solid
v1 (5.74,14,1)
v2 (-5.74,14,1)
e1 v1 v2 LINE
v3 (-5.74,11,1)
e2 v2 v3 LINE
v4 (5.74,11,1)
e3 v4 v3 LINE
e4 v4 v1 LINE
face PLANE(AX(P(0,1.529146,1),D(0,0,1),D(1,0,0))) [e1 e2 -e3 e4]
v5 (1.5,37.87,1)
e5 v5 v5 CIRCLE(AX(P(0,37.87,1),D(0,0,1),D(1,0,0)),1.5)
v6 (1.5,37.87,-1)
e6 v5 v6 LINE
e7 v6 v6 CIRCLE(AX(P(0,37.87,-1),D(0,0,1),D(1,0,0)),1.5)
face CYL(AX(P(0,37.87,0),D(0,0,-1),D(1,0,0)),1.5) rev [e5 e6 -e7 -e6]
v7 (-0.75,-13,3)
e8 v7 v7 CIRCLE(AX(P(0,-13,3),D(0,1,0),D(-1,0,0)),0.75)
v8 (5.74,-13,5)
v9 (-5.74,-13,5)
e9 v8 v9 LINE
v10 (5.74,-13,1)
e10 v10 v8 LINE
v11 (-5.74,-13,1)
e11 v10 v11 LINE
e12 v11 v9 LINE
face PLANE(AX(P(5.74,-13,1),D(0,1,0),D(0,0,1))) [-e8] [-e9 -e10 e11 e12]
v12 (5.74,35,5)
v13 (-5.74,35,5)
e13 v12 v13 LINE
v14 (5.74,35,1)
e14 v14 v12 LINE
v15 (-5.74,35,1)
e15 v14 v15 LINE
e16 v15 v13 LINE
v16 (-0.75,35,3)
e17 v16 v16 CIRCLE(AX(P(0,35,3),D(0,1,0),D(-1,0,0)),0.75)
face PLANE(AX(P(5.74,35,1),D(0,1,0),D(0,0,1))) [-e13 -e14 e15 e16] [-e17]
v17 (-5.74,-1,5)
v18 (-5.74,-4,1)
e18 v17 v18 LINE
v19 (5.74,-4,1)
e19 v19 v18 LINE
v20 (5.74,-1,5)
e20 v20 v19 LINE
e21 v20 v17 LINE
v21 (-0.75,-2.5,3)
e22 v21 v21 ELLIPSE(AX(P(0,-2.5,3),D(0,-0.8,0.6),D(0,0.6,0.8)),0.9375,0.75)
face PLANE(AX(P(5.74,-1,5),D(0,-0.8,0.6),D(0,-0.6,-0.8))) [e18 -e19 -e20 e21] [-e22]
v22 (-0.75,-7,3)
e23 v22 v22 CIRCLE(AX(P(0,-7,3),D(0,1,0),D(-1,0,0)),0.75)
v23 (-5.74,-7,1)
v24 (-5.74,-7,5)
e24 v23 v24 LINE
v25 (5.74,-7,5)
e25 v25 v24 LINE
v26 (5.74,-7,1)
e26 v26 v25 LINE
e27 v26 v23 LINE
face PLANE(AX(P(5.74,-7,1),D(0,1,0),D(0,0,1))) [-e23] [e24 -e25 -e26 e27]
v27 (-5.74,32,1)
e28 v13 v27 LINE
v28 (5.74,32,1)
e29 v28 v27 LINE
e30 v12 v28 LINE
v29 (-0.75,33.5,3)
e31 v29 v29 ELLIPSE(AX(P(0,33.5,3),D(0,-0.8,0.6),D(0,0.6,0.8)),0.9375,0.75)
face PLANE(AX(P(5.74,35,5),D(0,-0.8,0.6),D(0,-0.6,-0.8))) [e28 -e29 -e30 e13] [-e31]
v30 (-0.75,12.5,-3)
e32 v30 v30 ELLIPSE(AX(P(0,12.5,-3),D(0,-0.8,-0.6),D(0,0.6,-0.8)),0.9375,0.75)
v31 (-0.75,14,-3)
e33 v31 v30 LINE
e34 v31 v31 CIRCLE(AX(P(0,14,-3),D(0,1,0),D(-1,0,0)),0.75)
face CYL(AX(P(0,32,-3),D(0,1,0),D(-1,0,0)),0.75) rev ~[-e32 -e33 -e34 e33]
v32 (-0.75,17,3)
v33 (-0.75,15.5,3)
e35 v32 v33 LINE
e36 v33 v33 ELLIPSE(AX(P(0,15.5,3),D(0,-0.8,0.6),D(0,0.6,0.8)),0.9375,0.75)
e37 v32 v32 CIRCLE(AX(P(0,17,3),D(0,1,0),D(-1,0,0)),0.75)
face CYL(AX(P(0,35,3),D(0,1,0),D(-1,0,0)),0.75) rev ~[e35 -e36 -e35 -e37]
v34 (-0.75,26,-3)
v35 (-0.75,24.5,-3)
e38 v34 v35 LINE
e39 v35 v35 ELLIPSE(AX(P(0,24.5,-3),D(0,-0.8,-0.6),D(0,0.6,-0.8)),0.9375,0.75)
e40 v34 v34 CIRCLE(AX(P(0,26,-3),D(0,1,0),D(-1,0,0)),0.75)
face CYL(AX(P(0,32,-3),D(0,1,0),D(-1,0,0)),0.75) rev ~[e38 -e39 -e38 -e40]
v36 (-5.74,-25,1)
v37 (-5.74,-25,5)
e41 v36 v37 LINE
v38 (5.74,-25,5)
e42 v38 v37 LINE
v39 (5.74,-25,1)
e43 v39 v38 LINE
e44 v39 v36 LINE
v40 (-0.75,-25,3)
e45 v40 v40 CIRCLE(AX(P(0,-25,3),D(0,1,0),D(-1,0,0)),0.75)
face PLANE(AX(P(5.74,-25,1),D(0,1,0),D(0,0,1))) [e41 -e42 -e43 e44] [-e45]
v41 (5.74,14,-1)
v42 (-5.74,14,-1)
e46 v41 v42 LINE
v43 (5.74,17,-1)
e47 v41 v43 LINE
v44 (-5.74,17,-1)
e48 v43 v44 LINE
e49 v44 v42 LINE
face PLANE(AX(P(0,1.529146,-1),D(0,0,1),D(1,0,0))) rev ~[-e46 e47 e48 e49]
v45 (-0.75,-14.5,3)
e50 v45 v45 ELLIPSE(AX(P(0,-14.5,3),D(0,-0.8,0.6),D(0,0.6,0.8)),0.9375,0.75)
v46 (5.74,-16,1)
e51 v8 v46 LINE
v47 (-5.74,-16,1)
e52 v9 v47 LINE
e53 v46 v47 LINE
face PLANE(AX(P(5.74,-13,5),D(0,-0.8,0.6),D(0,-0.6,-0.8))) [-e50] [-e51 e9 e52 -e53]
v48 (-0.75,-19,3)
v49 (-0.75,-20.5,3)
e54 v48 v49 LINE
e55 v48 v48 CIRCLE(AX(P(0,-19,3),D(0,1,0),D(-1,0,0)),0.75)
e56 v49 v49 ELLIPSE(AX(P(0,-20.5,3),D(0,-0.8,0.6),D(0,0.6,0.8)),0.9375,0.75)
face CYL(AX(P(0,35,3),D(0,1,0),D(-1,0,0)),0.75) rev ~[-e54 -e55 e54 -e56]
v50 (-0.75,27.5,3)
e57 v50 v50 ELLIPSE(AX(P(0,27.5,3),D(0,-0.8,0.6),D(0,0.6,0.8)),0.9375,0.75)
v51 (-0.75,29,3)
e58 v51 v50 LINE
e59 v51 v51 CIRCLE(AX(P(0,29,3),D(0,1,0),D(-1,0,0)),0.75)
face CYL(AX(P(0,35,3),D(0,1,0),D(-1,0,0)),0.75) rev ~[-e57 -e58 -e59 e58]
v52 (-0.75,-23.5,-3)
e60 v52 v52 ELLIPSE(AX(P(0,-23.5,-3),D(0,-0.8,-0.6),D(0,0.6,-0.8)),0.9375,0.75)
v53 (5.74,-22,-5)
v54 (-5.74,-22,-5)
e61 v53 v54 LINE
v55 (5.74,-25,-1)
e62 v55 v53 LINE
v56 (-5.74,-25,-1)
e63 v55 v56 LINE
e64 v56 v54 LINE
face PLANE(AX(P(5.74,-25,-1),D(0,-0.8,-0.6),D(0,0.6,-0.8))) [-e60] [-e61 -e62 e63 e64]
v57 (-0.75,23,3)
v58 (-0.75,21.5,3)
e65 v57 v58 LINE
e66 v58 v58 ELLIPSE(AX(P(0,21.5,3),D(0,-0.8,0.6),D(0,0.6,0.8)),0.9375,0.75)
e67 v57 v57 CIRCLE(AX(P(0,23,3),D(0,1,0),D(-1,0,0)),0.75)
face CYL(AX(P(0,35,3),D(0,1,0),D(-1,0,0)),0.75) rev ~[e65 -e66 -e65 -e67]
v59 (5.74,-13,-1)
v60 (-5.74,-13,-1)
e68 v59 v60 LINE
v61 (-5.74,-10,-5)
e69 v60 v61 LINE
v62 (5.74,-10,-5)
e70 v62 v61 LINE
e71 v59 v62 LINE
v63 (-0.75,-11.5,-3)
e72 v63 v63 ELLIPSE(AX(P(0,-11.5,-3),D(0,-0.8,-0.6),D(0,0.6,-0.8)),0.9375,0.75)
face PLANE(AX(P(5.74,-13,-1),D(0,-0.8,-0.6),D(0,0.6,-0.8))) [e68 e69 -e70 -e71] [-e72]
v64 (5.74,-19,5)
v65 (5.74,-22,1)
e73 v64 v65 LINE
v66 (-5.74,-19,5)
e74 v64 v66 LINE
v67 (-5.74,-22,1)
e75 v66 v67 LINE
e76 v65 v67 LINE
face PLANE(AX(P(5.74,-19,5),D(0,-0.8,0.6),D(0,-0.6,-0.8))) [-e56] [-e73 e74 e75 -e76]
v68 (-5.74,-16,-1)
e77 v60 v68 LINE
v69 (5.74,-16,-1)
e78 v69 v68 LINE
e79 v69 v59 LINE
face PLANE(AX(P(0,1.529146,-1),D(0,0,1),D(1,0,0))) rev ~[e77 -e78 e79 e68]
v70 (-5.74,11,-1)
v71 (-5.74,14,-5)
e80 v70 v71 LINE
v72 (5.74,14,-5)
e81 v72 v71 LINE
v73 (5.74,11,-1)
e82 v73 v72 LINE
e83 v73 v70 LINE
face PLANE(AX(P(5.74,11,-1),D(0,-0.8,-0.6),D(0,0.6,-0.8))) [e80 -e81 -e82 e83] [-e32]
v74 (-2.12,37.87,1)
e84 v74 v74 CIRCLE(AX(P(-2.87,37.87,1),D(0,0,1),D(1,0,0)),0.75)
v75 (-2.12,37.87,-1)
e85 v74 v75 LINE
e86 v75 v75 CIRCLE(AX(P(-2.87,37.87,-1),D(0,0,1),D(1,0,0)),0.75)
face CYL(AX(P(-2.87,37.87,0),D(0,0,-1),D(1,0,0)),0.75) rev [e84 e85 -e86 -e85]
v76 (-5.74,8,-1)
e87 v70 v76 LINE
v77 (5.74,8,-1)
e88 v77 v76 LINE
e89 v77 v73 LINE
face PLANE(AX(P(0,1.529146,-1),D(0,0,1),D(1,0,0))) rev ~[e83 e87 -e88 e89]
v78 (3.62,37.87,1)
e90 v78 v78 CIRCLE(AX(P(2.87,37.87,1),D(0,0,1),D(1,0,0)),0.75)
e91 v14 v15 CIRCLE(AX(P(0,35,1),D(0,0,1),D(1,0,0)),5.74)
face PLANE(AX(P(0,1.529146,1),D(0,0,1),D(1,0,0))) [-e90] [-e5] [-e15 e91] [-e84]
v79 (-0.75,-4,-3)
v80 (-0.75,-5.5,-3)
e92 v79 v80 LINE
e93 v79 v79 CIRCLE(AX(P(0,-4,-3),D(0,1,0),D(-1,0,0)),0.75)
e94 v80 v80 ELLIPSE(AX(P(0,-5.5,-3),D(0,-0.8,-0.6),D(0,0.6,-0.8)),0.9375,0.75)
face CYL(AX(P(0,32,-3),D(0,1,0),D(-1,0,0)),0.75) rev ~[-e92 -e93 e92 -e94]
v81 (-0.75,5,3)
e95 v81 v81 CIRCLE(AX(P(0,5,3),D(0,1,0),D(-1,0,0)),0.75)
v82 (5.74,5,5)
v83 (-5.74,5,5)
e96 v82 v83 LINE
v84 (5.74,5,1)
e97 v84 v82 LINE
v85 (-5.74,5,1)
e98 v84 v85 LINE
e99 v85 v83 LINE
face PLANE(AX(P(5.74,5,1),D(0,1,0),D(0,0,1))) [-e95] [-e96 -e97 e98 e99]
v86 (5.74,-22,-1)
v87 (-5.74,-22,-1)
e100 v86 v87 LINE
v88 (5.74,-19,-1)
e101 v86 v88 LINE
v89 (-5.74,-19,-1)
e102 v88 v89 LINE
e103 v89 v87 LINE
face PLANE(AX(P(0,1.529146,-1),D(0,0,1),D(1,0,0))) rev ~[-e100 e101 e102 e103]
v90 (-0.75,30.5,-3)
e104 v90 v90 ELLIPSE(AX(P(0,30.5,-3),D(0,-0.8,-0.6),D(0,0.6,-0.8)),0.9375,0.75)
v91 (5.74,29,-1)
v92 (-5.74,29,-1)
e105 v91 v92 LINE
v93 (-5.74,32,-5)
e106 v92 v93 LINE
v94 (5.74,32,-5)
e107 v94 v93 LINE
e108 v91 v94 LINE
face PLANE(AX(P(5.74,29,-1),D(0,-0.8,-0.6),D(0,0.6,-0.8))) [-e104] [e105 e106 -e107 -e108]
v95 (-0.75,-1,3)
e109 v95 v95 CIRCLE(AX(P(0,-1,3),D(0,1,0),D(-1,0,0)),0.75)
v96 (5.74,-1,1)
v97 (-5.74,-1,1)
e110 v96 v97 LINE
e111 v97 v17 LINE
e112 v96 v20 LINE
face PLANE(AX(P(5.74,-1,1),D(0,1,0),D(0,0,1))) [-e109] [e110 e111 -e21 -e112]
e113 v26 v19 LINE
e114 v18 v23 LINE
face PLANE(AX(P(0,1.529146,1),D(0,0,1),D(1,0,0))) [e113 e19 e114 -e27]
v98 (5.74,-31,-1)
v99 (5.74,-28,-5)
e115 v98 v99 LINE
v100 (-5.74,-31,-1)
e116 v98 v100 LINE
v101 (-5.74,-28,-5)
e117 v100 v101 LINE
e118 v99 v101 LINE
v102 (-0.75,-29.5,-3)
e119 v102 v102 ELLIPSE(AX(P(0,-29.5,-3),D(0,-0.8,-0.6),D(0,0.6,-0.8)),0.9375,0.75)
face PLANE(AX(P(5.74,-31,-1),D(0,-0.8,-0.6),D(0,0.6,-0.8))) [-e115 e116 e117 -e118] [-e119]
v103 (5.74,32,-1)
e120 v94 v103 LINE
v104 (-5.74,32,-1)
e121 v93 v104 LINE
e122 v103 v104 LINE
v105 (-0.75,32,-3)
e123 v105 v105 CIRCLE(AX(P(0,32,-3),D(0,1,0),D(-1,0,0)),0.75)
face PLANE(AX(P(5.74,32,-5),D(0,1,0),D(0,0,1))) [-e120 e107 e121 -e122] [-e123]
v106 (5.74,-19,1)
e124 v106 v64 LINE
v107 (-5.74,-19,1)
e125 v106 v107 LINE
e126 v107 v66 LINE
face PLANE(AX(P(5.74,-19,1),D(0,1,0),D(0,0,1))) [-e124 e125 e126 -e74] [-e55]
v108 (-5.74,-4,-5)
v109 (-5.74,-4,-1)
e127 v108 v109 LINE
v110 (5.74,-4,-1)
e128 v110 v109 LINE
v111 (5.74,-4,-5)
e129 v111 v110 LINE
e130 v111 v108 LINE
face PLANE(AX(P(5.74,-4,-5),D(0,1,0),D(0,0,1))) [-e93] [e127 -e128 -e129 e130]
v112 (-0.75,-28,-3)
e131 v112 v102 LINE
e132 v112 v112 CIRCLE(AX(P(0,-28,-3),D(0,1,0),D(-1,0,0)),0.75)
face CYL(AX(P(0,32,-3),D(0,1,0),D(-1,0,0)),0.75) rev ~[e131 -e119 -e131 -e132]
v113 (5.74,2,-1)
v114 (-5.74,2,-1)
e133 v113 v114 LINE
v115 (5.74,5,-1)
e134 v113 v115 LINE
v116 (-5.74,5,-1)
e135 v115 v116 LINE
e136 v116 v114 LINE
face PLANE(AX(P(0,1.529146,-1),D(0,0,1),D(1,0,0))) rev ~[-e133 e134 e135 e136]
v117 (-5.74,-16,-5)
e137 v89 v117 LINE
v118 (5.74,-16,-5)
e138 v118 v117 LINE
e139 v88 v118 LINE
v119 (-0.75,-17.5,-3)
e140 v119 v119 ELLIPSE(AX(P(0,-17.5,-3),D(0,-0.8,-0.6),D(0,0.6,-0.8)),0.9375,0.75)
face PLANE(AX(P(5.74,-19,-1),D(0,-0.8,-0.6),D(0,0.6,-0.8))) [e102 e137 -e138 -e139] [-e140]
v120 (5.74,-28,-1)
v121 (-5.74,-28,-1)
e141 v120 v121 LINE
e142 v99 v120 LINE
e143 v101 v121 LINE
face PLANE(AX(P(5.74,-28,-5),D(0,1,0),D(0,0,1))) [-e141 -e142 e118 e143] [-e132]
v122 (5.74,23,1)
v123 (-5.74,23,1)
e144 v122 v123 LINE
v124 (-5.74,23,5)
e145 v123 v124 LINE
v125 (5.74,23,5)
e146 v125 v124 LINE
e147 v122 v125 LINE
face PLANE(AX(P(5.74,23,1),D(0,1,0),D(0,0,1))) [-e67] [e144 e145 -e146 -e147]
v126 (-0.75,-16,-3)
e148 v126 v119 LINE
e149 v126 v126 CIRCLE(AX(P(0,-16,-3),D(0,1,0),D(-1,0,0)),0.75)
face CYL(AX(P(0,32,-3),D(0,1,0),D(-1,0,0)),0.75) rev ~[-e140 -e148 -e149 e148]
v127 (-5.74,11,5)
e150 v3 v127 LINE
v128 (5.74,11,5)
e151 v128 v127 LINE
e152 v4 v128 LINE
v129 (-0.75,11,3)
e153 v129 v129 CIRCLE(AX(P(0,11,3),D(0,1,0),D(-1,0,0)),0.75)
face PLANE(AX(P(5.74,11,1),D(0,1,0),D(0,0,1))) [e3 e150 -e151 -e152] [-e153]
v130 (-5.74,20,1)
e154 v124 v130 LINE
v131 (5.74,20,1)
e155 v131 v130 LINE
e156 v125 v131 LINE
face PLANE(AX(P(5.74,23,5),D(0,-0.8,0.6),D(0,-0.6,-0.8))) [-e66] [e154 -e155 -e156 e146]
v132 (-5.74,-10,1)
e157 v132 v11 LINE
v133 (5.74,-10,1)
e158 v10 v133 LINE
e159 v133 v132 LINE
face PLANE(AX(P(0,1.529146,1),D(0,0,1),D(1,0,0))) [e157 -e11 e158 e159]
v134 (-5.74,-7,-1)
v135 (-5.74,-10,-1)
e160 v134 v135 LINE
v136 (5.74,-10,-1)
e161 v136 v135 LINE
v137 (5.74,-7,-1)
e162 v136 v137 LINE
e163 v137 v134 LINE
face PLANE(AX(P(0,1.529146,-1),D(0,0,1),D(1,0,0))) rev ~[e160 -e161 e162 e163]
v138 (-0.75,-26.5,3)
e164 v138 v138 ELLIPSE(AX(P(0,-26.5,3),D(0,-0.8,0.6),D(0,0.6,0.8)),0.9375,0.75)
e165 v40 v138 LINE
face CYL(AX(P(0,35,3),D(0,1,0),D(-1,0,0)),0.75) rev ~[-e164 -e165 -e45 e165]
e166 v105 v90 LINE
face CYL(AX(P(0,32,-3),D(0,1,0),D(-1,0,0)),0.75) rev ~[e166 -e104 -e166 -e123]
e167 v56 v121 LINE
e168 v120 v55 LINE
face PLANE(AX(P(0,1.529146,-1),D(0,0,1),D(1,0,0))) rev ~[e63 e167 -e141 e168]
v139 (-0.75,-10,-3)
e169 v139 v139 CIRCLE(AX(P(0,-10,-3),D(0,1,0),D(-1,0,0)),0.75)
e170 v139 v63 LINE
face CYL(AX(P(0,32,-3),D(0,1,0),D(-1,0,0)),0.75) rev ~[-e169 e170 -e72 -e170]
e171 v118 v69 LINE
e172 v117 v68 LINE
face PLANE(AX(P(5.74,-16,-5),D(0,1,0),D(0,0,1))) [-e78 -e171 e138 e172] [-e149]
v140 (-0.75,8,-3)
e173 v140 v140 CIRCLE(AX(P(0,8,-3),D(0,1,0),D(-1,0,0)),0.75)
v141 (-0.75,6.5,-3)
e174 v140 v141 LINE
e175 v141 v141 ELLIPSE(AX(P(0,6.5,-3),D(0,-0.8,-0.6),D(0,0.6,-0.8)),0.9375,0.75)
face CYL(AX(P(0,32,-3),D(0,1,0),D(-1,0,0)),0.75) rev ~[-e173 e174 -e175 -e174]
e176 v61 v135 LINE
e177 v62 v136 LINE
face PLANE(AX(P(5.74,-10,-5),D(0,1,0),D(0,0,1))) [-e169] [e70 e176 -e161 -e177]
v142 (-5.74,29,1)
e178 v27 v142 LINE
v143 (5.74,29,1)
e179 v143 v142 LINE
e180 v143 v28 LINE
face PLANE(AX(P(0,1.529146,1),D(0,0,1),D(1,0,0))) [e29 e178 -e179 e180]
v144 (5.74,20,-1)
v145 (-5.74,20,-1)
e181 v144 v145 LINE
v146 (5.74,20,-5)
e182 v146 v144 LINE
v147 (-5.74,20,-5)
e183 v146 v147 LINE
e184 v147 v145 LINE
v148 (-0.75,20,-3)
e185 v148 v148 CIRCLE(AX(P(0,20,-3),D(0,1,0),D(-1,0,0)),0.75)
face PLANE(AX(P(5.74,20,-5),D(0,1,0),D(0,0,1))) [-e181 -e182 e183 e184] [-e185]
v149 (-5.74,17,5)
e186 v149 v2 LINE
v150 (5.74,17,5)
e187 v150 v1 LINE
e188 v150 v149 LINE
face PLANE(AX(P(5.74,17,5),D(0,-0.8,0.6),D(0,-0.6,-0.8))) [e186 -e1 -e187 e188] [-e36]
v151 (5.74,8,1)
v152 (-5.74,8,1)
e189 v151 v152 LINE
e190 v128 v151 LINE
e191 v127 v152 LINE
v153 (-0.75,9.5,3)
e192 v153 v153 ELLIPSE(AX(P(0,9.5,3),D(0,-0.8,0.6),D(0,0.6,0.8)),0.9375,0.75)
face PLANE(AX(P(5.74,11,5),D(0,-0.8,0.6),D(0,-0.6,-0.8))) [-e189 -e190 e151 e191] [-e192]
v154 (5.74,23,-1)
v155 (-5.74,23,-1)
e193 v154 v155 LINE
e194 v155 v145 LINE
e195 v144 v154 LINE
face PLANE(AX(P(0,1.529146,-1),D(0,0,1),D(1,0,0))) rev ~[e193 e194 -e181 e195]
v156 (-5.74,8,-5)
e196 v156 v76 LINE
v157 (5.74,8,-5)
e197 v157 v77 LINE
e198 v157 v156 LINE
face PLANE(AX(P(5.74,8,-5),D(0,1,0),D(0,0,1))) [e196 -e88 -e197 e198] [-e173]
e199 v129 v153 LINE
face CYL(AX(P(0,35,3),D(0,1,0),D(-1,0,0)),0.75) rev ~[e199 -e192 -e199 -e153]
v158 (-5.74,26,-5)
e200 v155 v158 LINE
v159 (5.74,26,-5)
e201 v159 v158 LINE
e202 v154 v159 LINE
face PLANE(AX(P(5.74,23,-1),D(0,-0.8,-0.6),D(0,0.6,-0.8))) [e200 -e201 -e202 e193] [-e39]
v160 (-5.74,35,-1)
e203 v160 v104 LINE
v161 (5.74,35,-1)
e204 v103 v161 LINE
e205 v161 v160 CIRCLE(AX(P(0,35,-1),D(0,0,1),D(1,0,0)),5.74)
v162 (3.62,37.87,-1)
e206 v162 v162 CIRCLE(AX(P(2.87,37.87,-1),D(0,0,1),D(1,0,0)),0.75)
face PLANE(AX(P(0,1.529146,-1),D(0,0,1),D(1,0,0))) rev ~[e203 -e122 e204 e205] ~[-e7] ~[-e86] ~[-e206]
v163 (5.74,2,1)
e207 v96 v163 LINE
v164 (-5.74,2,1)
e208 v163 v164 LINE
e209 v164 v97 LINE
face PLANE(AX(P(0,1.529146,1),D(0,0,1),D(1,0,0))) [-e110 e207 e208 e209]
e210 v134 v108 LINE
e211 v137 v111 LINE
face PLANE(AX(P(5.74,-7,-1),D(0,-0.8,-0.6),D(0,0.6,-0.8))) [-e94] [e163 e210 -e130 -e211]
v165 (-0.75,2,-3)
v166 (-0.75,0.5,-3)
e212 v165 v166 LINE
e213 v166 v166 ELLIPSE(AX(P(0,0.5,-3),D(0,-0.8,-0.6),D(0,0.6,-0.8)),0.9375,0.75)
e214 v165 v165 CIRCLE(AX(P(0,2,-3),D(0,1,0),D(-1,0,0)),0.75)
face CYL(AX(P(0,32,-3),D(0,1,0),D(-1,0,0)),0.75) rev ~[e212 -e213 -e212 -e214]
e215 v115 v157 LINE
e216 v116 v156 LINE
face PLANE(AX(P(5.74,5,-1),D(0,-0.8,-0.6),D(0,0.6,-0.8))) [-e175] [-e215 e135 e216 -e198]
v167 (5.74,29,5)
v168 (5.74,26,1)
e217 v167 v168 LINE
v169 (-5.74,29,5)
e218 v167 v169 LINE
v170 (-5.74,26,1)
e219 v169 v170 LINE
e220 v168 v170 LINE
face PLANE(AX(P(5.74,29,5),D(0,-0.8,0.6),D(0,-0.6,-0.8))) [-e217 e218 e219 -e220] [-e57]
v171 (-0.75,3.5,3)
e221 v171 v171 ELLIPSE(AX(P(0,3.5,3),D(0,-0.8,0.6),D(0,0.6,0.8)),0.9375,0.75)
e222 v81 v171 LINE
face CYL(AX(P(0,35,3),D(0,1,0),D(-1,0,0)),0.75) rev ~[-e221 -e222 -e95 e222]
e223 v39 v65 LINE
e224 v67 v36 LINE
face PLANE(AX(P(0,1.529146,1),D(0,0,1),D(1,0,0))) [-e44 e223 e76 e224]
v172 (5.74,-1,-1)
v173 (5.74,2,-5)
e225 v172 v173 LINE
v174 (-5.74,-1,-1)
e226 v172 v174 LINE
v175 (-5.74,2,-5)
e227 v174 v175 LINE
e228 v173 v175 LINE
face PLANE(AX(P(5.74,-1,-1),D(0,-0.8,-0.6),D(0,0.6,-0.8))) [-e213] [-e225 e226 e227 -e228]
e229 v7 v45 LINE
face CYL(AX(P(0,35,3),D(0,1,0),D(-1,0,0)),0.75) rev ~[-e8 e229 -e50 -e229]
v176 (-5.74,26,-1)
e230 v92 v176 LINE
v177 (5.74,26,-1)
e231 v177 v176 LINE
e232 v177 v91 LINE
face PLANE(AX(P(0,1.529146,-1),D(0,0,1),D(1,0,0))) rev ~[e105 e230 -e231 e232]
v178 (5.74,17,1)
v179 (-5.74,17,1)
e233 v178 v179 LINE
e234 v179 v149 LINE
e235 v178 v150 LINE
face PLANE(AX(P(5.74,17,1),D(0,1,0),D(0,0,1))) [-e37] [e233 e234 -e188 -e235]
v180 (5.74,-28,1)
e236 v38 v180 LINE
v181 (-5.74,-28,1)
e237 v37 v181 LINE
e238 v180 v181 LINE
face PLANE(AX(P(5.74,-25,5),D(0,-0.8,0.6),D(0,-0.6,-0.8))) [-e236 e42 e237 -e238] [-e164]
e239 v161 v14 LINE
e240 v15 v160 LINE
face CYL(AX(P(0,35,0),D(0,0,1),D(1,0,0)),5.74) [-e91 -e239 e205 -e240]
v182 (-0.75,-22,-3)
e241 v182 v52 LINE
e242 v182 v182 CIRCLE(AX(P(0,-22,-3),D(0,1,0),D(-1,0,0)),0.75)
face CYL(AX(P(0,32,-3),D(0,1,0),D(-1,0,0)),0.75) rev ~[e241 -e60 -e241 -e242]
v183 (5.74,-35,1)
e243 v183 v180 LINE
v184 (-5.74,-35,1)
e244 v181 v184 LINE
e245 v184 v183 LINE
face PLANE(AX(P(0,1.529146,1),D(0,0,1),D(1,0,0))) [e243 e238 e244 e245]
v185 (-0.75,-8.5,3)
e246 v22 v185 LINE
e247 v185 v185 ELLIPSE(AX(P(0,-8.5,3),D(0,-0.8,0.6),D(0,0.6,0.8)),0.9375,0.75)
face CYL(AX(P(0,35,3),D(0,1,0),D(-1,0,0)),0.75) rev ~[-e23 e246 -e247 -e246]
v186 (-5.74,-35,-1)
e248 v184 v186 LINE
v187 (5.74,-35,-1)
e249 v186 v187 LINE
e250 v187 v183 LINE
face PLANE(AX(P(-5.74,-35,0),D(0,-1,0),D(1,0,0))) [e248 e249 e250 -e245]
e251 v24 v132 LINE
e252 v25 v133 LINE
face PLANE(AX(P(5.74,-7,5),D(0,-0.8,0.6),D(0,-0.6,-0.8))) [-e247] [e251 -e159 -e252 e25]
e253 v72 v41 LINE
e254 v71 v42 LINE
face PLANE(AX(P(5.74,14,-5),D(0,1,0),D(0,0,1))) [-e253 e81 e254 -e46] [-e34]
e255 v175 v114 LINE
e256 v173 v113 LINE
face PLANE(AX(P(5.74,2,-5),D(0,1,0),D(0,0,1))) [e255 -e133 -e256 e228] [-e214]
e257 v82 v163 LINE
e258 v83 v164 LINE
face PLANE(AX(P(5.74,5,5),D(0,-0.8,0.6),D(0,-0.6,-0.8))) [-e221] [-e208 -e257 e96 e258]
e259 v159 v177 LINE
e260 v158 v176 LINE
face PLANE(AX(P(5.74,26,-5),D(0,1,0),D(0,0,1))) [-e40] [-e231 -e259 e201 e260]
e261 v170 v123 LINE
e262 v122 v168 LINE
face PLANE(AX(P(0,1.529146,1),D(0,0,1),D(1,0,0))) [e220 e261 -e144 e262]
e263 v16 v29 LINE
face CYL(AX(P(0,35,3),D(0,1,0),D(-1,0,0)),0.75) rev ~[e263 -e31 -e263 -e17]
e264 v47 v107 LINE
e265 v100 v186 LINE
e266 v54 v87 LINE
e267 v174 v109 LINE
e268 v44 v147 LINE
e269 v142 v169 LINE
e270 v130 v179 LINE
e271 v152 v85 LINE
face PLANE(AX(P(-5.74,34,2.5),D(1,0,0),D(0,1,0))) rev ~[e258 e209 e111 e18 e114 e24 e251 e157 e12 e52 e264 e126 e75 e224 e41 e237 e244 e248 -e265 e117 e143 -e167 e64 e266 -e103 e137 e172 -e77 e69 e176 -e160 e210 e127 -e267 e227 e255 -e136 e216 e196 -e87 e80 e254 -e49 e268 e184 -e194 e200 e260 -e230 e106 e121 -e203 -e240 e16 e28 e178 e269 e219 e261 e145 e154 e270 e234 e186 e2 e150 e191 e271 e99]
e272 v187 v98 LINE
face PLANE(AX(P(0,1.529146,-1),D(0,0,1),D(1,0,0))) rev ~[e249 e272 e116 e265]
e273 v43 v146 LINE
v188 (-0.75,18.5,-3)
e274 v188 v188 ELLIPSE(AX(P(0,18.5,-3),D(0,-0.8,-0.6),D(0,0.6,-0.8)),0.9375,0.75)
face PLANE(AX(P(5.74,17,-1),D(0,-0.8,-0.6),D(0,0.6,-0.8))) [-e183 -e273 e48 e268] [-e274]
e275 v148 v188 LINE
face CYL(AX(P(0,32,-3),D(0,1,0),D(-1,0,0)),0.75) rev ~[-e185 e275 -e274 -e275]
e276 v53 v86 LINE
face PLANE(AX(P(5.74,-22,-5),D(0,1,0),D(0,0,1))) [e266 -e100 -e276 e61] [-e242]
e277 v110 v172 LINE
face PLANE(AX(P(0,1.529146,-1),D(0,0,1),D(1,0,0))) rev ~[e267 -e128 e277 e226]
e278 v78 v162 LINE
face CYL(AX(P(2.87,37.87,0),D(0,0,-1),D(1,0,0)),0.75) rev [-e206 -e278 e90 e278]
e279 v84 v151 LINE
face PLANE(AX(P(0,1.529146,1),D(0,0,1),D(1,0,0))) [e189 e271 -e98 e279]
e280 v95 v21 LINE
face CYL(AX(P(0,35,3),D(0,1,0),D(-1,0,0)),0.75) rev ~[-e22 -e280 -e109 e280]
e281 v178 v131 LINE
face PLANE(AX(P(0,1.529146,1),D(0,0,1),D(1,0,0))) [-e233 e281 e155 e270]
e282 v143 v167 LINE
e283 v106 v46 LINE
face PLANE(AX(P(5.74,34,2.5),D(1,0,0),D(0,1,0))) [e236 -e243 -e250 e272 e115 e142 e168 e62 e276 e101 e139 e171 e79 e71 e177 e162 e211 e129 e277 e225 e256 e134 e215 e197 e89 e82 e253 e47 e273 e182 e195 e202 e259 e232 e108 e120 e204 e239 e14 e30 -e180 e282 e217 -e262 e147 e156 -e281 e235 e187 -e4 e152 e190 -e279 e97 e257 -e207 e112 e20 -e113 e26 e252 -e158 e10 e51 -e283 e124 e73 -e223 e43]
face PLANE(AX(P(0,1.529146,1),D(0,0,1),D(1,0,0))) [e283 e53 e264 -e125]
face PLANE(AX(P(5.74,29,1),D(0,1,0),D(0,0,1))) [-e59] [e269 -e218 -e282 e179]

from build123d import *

# Parameters (mm, degrees)
F0_R     = 0.75
F0_R_2   = 1.5
F1_DEPTH = 1
F3_DEPTH = 11.48
F4_R     = 0.75
F5_DEPTH = 70
F6_R     = 0.75
F7_DEPTH = 70


with BuildPart() as f1:
    # F0 (on Top) → F1 (new body, symmetric)
    with BuildSketch(Plane.XY):
        with BuildLine():
            Line((-5.74, -35), (5.74, -35))
            Line((5.74, -35), (5.74, 35))
            ThreePointArc((5.74, 35), (0, 40.74), (-5.74, 35))
            Line((-5.74, 35), (-5.74, -35))
        make_face()
        with Locations((-2.87, 37.87)):
            Circle(F0_R, mode=Mode.SUBTRACT)
        with Locations((0, 37.87)):
            Circle(F0_R_2, mode=Mode.SUBTRACT)
        with Locations((2.87, 37.87)):
            Circle(F0_R, mode=Mode.SUBTRACT)
    extrude(amount=F1_DEPTH, both=True)

    # F2 (on face) → F3 (join)
    with BuildSketch(Plane.YZ.offset(5.74)):
        Polygon((32, 1), (35, 1), (35, 5), align=None)
        Polygon((32, -5), (32, -1), (29, -1), align=None)
        Polygon((26, 1), (29, 1), (29, 5), align=None)
        Polygon((26, -5), (26, -1), (23, -1), align=None)
        Polygon((20, 1), (23, 1), (23, 5), align=None)
        Polygon((20, -5), (20, -1), (17, -1), align=None)
        Polygon((14, 1), (17, 1), (17, 5), align=None)
        Polygon((14, -5), (14, -1), (11, -1), align=None)
        Polygon((8, 1), (11, 1), (11, 5), align=None)
        Polygon((8, -5), (8, -1), (5, -1), align=None)
        Polygon((2, 1), (5, 1), (5, 5), align=None)
        Polygon((2, -5), (2, -1), (-1, -1), align=None)
        Polygon((-4, 1), (-1, 1), (-1, 5), align=None)
        Polygon((-4, -5), (-4, -1), (-7, -1), align=None)
        Polygon((-10, 1), (-7, 1), (-7, 5), align=None)
        Polygon((-10, -5), (-10, -1), (-13, -1), align=None)
        Polygon((-16, 1), (-13, 1), (-13, 5), align=None)
        Polygon((-16, -5), (-16, -1), (-19, -1), align=None)
        Polygon((-22, 1), (-19, 1), (-19, 5), align=None)
        Polygon((-22, -5), (-22, -1), (-25, -1), align=None)
        Polygon((-28, 1), (-25, 1), (-25, 5), align=None)
        Polygon((-28, -5), (-28, -1), (-31, -1), align=None)
    extrude(amount=-F3_DEPTH)

    # F4 (on face) → F5 (cut)
    with BuildSketch(Plane(origin=(0, 35, 0), x_dir=(-1, 0, 0), z_dir=(0, 1, 0))):
        with Locations((0, 3)):
            Circle(F4_R)
    extrude(amount=-F5_DEPTH, mode=Mode.SUBTRACT)

    # F6 (on face) → F7 (cut)
    with BuildSketch(Plane(origin=(0, 32, 0), x_dir=(-1, 0, 0), z_dir=(0, 1, 0))):
        with Locations((0, -3)):
            Circle(F6_R)
    extrude(amount=-F7_DEPTH, mode=Mode.SUBTRACT)


solid = f1.part
